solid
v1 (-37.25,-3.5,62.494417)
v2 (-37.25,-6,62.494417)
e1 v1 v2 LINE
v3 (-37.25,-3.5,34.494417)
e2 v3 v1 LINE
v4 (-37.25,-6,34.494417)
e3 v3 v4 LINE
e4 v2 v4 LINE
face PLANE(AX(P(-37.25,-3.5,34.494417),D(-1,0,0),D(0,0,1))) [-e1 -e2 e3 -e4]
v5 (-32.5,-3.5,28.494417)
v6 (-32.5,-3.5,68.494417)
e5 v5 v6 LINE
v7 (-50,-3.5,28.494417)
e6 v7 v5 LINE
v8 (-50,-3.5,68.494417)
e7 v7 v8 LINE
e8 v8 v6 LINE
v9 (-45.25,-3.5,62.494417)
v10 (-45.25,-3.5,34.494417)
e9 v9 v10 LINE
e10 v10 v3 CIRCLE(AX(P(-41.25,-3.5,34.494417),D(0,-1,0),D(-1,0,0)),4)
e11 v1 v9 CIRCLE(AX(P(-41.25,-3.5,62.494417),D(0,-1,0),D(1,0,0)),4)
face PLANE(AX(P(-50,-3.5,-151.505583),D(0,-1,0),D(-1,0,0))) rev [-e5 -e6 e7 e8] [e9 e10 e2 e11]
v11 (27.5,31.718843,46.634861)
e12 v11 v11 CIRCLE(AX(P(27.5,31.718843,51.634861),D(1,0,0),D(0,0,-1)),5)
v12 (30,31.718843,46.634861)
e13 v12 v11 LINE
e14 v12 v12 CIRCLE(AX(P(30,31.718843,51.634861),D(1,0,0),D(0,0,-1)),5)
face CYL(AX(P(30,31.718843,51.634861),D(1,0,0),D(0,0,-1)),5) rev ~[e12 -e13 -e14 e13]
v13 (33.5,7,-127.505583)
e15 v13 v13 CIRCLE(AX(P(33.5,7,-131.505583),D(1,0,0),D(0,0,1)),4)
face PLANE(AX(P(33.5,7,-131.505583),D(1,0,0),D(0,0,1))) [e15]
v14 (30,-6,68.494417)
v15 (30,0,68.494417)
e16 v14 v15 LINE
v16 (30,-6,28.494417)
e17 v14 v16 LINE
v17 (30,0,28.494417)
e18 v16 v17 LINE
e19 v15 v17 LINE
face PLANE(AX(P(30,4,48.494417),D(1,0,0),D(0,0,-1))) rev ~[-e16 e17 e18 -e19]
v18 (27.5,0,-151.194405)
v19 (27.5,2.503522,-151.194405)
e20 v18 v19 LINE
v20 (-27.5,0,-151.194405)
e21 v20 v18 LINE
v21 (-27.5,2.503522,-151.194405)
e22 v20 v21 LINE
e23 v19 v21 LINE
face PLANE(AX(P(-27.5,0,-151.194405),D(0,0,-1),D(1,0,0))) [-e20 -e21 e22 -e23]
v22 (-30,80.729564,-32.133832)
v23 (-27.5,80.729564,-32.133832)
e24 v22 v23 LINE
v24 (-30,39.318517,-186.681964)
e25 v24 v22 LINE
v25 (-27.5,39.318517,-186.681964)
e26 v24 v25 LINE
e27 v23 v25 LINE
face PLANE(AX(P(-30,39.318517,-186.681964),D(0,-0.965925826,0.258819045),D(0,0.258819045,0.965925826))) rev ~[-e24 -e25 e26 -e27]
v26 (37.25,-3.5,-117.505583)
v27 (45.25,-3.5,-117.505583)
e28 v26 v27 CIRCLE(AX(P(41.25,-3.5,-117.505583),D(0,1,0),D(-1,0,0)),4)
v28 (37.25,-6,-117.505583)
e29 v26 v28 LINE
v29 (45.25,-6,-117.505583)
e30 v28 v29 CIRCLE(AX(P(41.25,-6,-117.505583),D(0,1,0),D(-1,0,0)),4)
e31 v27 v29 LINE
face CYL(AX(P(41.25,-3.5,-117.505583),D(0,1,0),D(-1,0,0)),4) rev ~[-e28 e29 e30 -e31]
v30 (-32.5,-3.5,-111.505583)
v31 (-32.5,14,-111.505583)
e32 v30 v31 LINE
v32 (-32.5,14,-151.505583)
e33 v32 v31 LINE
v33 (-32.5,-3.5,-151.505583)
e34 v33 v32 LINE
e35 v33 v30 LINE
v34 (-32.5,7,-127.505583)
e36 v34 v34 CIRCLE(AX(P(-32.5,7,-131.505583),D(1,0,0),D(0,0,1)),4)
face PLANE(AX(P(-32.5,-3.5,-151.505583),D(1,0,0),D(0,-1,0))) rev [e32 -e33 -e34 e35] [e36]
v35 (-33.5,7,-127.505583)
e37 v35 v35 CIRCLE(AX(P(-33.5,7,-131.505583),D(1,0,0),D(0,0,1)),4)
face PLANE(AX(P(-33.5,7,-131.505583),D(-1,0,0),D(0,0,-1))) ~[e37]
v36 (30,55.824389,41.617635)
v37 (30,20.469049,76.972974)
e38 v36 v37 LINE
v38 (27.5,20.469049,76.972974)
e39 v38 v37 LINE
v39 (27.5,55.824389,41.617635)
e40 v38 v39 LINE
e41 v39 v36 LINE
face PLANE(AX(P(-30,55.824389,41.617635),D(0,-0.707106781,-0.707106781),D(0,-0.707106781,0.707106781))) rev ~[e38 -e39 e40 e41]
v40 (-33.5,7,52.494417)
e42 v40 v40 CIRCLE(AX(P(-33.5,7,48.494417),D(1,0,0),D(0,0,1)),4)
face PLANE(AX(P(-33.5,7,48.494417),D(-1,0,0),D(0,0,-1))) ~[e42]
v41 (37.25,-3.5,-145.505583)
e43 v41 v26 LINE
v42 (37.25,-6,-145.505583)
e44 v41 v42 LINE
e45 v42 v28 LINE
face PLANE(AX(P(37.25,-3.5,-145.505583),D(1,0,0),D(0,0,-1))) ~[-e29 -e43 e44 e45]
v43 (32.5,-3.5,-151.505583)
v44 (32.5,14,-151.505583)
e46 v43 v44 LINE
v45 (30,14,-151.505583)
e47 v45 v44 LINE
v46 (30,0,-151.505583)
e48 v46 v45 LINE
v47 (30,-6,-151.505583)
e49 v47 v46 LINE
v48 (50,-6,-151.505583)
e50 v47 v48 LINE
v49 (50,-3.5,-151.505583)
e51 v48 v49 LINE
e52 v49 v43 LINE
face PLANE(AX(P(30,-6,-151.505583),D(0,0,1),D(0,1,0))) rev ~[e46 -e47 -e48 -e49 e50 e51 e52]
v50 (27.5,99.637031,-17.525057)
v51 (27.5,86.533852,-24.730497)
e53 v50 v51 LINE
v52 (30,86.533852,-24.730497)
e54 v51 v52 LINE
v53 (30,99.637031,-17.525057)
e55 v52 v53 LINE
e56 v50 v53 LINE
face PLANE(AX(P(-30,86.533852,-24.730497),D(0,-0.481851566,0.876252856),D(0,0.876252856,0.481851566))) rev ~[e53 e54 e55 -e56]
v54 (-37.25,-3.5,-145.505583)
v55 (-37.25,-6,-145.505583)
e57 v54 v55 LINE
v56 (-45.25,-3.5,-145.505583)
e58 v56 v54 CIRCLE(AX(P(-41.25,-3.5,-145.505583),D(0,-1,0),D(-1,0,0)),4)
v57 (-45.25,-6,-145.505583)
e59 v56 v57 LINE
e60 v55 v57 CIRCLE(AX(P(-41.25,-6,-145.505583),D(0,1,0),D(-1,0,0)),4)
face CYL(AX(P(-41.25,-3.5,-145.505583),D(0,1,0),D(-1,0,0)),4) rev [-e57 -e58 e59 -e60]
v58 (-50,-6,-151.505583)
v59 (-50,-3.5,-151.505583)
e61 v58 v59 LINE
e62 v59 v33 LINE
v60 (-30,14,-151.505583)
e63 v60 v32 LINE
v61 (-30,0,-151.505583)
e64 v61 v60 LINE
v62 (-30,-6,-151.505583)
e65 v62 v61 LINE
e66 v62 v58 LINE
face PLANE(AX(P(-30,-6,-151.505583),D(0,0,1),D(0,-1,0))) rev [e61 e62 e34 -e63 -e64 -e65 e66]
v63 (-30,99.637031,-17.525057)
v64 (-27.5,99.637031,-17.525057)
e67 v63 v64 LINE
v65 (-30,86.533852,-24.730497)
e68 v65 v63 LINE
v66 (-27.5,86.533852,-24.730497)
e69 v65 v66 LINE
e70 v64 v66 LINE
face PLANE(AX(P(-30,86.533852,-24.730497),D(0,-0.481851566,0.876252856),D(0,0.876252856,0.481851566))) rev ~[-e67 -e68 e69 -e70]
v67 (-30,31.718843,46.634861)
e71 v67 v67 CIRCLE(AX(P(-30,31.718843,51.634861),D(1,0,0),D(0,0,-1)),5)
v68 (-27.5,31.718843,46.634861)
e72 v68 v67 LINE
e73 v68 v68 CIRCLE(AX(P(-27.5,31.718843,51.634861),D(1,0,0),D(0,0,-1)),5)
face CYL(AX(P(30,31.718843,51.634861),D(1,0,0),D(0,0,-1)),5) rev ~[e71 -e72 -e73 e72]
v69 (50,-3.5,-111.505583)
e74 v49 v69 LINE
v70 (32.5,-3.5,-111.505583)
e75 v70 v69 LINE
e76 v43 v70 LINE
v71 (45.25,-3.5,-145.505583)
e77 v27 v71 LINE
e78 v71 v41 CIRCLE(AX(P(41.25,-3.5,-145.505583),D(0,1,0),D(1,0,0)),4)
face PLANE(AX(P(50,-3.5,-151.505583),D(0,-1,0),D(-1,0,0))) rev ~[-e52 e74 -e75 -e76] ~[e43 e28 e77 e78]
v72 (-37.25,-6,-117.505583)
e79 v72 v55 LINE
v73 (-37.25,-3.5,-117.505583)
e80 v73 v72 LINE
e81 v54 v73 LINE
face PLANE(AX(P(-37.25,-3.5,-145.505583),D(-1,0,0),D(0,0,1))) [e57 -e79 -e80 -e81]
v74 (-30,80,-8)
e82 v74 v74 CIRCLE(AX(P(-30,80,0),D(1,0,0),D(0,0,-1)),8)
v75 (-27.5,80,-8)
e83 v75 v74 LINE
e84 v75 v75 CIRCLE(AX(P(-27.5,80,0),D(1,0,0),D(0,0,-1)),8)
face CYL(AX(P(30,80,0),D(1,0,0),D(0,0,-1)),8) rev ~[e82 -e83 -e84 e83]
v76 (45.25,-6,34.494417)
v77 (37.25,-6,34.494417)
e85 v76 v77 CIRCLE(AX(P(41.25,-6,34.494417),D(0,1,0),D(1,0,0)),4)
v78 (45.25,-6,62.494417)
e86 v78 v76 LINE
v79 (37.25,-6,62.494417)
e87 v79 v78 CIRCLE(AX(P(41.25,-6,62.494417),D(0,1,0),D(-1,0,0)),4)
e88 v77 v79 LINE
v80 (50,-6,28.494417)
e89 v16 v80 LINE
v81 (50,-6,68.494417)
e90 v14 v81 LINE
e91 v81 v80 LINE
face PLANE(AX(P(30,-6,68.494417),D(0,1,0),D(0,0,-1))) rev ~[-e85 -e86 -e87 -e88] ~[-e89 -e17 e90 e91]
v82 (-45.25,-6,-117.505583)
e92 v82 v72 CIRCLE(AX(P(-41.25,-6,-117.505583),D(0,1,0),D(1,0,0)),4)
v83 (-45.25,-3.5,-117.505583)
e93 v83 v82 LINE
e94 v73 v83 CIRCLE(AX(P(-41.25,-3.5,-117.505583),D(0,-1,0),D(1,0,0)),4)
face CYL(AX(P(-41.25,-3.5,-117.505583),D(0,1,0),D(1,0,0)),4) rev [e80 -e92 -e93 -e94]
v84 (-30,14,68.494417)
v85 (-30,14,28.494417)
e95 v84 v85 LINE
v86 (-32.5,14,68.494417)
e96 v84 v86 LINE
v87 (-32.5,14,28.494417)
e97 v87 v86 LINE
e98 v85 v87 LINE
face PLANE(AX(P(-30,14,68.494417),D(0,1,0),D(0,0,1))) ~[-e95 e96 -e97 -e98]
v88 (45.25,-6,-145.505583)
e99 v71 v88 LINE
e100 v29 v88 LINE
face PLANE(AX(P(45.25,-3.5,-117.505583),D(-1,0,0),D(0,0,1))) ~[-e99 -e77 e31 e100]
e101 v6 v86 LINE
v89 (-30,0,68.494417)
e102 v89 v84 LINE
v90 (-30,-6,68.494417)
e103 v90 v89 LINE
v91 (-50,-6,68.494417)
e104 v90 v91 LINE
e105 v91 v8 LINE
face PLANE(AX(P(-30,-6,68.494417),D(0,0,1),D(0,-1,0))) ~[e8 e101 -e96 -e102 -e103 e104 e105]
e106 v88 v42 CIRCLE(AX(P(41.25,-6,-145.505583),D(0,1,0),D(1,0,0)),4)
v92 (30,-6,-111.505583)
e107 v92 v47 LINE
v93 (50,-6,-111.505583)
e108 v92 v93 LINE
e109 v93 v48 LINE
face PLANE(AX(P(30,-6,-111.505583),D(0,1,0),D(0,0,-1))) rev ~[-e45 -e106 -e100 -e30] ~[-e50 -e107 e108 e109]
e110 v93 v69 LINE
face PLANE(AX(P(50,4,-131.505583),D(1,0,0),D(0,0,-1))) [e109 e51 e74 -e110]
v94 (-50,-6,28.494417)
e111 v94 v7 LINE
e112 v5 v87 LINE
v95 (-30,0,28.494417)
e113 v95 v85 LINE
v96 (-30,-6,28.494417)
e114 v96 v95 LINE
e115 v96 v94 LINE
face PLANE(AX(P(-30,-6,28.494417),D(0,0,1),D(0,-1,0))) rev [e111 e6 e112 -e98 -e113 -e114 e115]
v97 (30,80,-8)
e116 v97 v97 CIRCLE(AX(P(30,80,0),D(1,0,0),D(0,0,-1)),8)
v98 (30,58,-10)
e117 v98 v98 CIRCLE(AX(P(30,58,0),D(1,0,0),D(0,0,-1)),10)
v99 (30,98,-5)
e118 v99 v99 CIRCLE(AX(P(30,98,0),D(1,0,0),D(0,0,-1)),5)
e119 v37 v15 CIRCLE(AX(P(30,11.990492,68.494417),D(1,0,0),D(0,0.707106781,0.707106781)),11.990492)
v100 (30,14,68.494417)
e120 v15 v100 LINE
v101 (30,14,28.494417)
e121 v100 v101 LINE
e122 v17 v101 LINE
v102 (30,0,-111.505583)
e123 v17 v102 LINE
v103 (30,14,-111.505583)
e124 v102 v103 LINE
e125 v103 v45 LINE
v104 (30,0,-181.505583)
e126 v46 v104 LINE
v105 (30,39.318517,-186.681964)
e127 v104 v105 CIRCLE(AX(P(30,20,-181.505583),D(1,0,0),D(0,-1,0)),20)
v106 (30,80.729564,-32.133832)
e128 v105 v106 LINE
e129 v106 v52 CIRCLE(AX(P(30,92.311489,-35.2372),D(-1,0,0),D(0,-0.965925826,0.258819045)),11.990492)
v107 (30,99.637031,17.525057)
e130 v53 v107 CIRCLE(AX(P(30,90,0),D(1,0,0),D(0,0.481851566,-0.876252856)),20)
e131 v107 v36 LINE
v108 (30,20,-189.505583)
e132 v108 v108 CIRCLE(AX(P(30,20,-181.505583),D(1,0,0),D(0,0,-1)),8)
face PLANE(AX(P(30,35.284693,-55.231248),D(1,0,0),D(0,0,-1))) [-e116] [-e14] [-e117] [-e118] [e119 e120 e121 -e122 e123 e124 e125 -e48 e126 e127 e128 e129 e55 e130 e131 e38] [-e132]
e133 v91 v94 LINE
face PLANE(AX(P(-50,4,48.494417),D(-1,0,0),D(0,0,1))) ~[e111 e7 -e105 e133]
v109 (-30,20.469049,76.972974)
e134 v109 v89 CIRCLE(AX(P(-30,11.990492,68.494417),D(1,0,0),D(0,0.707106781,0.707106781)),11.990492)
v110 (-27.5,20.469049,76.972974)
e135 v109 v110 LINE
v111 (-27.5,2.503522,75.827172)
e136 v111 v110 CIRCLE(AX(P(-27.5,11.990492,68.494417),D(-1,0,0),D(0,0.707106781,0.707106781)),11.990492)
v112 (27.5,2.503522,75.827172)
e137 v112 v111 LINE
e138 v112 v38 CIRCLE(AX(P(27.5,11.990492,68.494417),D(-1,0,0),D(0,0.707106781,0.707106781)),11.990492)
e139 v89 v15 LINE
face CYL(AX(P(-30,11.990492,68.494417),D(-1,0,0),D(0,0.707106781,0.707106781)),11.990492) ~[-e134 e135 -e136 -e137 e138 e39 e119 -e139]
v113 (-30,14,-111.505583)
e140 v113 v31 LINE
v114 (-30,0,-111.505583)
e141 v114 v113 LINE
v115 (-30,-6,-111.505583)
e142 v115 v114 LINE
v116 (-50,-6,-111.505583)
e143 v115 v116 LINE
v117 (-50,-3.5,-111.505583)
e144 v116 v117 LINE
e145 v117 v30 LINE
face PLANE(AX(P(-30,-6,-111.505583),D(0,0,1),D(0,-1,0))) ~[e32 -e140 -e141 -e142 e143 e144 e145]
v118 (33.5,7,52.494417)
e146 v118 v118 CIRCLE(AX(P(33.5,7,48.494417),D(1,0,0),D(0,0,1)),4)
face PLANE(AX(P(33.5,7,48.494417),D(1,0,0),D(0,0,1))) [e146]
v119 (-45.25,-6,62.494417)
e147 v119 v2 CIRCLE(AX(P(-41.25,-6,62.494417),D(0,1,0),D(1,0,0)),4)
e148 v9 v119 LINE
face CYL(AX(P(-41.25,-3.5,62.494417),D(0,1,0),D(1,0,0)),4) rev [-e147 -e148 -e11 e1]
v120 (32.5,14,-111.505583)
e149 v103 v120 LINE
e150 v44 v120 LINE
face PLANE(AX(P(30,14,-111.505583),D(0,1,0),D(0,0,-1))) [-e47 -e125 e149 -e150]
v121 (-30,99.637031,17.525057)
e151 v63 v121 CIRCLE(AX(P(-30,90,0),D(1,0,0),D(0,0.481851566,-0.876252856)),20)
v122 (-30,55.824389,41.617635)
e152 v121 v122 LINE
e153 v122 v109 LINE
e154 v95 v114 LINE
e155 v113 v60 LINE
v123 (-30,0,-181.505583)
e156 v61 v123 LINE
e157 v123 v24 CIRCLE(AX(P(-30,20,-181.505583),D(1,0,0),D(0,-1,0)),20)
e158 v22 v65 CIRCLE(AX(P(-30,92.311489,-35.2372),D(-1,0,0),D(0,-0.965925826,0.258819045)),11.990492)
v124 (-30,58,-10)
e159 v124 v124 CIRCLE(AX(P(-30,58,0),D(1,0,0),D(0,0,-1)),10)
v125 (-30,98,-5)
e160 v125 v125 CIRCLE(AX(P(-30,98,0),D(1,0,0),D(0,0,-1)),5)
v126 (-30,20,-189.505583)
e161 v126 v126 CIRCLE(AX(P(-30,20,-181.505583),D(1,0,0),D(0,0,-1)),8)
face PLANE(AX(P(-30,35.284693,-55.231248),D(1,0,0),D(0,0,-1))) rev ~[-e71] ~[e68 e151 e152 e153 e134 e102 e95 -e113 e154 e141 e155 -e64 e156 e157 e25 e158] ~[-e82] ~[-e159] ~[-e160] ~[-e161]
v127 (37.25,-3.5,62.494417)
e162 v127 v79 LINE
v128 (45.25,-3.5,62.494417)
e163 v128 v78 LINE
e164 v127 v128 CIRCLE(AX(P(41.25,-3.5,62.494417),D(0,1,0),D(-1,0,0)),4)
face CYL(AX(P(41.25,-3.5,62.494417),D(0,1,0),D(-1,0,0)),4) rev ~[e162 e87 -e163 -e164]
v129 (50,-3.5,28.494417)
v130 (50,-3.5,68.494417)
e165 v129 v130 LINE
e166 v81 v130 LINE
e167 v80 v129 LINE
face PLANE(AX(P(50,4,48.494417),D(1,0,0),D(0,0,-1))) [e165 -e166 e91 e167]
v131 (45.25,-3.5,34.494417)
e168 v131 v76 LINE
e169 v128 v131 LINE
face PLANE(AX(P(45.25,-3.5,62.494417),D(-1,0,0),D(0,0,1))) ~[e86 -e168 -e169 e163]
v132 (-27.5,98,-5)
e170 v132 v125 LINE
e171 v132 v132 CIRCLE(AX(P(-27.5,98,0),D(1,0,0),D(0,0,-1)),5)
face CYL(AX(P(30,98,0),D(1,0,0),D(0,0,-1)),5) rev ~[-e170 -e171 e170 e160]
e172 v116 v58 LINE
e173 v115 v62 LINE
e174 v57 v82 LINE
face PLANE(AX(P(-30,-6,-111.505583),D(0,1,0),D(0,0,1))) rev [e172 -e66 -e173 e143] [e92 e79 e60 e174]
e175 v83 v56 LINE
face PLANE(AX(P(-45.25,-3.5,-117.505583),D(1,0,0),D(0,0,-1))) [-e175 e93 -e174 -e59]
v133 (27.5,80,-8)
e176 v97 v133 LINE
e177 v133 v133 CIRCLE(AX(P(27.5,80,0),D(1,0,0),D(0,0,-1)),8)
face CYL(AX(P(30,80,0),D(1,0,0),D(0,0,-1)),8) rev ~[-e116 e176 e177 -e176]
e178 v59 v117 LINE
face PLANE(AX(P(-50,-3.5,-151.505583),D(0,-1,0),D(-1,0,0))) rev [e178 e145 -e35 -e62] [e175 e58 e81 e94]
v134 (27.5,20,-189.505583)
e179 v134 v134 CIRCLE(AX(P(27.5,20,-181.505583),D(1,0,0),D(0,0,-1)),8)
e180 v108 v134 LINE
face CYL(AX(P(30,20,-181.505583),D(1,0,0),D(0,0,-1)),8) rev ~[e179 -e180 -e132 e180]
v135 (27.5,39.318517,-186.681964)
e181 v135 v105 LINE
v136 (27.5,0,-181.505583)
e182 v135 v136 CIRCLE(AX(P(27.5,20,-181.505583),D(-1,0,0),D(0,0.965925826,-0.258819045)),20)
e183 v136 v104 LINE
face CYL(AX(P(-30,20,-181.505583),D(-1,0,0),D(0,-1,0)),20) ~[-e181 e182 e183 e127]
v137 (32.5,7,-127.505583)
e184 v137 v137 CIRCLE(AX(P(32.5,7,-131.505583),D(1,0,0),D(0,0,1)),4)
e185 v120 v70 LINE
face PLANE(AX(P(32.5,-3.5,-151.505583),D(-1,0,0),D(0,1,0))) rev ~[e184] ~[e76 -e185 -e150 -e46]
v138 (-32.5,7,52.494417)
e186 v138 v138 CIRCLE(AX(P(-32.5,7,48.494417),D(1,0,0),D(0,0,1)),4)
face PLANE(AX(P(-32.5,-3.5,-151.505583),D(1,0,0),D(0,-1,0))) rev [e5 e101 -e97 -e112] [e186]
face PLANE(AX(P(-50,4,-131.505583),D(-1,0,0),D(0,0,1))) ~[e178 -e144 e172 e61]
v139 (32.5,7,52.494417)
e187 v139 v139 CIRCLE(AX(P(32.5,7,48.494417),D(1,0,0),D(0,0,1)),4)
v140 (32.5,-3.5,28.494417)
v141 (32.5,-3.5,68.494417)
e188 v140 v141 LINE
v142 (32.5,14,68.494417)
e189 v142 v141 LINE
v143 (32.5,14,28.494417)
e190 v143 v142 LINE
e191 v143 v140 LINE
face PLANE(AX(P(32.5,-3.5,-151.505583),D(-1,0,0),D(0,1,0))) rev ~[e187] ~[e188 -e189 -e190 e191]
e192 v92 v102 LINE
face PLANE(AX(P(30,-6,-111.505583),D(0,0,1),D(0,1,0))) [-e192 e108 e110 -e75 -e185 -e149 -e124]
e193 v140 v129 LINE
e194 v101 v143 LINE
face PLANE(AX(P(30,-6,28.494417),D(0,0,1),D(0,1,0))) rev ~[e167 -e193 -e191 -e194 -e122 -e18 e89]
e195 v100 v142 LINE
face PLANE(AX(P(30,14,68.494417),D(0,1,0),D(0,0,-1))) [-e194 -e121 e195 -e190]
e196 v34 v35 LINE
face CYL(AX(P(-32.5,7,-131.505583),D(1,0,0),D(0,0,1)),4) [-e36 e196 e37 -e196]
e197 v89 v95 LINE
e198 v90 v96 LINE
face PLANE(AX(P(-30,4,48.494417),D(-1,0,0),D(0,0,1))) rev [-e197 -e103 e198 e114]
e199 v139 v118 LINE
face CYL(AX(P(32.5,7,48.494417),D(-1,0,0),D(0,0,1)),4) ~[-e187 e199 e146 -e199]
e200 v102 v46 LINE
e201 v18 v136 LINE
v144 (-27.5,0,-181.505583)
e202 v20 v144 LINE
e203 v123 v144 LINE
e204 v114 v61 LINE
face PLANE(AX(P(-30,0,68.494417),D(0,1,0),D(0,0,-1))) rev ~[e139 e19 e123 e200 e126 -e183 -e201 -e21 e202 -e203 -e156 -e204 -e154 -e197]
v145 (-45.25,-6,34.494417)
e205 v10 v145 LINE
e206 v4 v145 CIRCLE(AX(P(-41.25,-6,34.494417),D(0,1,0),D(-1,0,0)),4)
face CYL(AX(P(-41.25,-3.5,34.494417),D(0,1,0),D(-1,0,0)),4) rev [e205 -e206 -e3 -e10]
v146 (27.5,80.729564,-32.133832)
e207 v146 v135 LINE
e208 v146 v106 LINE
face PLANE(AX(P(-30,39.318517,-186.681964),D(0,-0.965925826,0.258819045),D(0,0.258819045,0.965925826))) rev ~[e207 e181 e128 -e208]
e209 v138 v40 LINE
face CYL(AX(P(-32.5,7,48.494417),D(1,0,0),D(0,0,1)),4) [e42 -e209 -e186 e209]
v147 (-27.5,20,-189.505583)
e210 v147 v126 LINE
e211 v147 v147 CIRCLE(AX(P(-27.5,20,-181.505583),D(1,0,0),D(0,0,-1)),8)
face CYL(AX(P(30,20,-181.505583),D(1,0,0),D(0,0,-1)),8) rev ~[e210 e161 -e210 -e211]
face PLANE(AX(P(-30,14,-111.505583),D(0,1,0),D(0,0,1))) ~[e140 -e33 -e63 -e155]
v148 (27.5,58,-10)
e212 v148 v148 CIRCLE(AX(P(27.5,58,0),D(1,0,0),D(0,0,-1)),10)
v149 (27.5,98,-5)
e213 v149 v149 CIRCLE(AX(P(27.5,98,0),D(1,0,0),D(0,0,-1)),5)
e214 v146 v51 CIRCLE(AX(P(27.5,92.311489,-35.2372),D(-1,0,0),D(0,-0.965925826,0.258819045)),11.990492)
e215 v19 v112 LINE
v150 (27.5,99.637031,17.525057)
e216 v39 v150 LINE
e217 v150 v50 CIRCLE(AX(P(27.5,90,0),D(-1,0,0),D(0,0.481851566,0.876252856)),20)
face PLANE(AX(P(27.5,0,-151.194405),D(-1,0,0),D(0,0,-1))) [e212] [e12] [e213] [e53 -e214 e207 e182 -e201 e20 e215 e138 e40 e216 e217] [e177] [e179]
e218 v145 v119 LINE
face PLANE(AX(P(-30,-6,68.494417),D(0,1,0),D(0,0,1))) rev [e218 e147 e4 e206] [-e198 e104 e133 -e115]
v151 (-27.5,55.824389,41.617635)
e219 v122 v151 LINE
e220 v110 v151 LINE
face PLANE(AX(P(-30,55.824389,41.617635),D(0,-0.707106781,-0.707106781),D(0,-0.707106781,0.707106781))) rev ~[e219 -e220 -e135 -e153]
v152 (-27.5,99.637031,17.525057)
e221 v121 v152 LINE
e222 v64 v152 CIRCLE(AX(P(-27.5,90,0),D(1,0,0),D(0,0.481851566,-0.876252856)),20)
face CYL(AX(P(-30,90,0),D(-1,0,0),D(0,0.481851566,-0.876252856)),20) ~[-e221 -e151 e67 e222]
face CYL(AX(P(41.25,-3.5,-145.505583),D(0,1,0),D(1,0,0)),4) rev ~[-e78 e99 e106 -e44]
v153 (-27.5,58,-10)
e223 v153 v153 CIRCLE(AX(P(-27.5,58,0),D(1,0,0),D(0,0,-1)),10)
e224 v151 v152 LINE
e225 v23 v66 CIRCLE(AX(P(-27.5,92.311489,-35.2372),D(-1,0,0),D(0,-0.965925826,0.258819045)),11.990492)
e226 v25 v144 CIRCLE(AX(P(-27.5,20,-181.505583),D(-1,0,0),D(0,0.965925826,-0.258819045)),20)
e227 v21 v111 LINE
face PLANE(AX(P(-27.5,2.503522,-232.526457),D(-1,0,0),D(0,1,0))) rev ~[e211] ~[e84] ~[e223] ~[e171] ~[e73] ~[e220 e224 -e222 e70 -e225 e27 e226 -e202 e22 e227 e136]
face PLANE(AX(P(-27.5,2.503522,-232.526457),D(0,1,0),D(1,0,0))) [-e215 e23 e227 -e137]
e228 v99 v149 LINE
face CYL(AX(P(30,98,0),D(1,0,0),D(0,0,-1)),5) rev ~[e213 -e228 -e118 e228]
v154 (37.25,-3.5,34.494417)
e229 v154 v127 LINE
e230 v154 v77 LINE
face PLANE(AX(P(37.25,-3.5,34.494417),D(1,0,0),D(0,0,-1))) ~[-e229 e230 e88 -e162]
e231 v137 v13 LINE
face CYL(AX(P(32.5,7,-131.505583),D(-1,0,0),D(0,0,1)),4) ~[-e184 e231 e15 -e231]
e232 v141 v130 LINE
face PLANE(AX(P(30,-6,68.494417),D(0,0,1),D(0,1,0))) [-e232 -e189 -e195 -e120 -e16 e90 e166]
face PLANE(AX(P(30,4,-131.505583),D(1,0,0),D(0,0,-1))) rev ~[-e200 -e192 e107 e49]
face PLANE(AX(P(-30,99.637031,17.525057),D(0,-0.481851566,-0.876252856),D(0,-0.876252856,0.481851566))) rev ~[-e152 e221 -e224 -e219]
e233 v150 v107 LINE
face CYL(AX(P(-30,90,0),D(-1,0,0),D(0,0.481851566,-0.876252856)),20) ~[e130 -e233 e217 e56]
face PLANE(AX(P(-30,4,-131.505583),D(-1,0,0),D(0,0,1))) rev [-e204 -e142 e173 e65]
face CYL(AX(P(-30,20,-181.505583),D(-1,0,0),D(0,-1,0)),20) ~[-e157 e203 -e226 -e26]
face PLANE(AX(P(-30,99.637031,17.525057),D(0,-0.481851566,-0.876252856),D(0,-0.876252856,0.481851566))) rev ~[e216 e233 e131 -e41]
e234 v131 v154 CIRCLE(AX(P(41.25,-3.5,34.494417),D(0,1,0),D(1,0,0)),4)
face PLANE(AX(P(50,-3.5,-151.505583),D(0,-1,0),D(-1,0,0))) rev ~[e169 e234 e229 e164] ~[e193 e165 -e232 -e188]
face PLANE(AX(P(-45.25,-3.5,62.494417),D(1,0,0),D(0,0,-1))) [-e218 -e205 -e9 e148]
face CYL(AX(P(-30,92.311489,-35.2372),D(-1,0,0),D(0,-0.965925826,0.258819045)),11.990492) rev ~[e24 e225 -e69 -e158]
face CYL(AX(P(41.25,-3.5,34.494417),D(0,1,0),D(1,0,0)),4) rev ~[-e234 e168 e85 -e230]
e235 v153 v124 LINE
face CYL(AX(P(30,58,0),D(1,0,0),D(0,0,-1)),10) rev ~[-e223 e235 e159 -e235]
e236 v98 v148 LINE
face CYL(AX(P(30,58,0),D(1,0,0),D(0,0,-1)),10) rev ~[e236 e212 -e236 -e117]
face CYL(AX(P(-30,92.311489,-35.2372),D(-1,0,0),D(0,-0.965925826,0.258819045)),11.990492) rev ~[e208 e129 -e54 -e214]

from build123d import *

# Parameters (mm, degrees)
DODANIE_WYCI_GNI_CIE1_DEPTH      = 30
DODANIE_WYCI_GNI_CIE1_DEPTH_BACK = 30
WYTNIJ_WYCI_GNI_CIE1_DEPTH       = 232.526456676
WYTNIJ_WYCI_GNI_CIE1_DEPTH_BACK  = 232.526456676
SZKIC2_W                         = 55
SZKIC2_H                         = 107.496477766
SZKIC3_W                         = 55
SZKIC3_H                         = 40
WYTNIJ_WYCI_GNI_CIE3_DEPTH       = 232.526456676
SZKIC4_W                         = 40
SZKIC4_H                         = 20
DODANIE_WYCI_GNI_CIE2_DEPTH      = 20
SZKIC5_W                         = 17.5
SZKIC5_H                         = 17.5
WYTNIJ_WYCI_GNI_CIE4_DEPTH       = 262.571382555
SZKIC6_R                         = 4
DODANIE_WYCI_GNI_CIE3_DEPTH      = 1
WYTNIJ_WYCI_GNI_CIE5_DEPTH       = 237.615194231
SZKIC8_R                         = 5
SZKIC8_R_2                       = 8
SZKIC8_R_3                       = 10
WYTNIJ_WYCI_GNI_CIE6_DEPTH       = 244.114171


with BuildPart() as part:
    # Szkic1 → Dodanie-wyciągnięcie1 (new, two sides: drawn at the far end of the back side and taken through both)
    with BuildSketch(Plane(origin=(0, 0, 0), x_dir=(0, 0, -1), z_dir=(1, 0, 0)).offset(-DODANIE_WYCI_GNI_CIE1_DEPTH_BACK)):
        with BuildLine():
            Line((0, 0), (181.505583399, 0))
            ThreePointArc((181.505583399, 0), (201.334480627, 17.389476156), (186.681964301, 39.318516526))
            Line((186.681964301, 39.318516526), (32.133832095, 80.729563742))
            ThreePointArc((32.133832095, 80.729563742), (27.839163279, 82.875338226), (24.730497196, 86.533852072))
            Line((24.730497196, 86.533852072), (17.525057128, 99.637031321))
            ThreePointArc((17.525057128, 99.637031321), (0, 110), (-17.525057128, 99.637031321))
            Line((-17.525057128, 99.637031321), (-41.617635429, 55.824388502))
            Line((-41.617635429, 55.824388502), (-76.972974488, 20.469049442))
            ThreePointArc((-76.972974488, 20.469049442), (-79.572186332, 7.401929091), (-68.494416601, 0))
            Line((-68.494416601, 0), (0, 0))
        make_face()
    extrude(amount=DODANIE_WYCI_GNI_CIE1_DEPTH + DODANIE_WYCI_GNI_CIE1_DEPTH_BACK)

    # Szkic2 → Wytnij-wyciągnięcie1 (cut, two sides: drawn at the far end of the back side and taken through both)
    with BuildSketch(Plane.XY.offset(-WYTNIJ_WYCI_GNI_CIE1_DEPTH_BACK)):
        with Locations((0, 56.251761117)):
            Rectangle(SZKIC2_W, SZKIC2_H)
    extrude(amount=WYTNIJ_WYCI_GNI_CIE1_DEPTH + WYTNIJ_WYCI_GNI_CIE1_DEPTH_BACK, mode=Mode.SUBTRACT)

    # Szkic3 → Wytnij-wyciągnięcie3 (cut, through all)
    with BuildSketch(Plane(origin=(0, 0, 0), x_dir=(1, 0, 0), z_dir=(0, 1, 0))):
        with Locations((0, 171.194405091)):
            Rectangle(SZKIC3_W, SZKIC3_H)
    extrude(amount=WYTNIJ_WYCI_GNI_CIE3_DEPTH, mode=Mode.SUBTRACT)

    # Szkic4 → Dodanie-wyciągnięcie2 (add)
    with BuildSketch(Plane(origin=(30, 0, 0), x_dir=(0, 0, -1), z_dir=(1, 0, 0))):
        with Locations((-48.494416601, 4)):
            Rectangle(SZKIC4_W, SZKIC4_H)
        with Locations((131.505583399, 4)):
            Rectangle(SZKIC4_W, SZKIC4_H)
    dodanie_wyci_gni_cie2 = extrude(amount=DODANIE_WYCI_GNI_CIE2_DEPTH)

    # Szkic5 → Wytnij-wyciągnięcie4 (cut, through all)
    with BuildSketch(Plane(origin=(0, 0, -151.505583399), x_dir=(-1, 0, 0), z_dir=(0, 0, -1))):
        with Locations((-41.25, 5.25)):
            Rectangle(SZKIC5_W, SZKIC5_H)
    wytnij_wyci_gni_cie4 = extrude(amount=-WYTNIJ_WYCI_GNI_CIE4_DEPTH, mode=Mode.SUBTRACT)

    # Szkic6 → Dodanie-wyciągnięcie3 (add)
    with BuildSketch(Plane(origin=(32.5, 0, 0), x_dir=(0, 0, -1), z_dir=(1, 0, 0))):
        with Locations((-48.494416601, 7)):
            Circle(SZKIC6_R)
        with Locations((131.505583399, 7)):
            Circle(SZKIC6_R)
    dodanie_wyci_gni_cie3 = extrude(amount=DODANIE_WYCI_GNI_CIE3_DEPTH)

    # Lustro2: Dodanie-wyciągnięcie2, Wytnij-wyciągnięcie4, Dodanie-wyciągnięcie3 across plane
    add(dodanie_wyci_gni_cie2.mirror(Plane(origin=(0, 0, 0), x_dir=(0, 0, 1), z_dir=(1, 0, 0))))
    add(wytnij_wyci_gni_cie4.mirror(Plane(origin=(0, 0, 0), x_dir=(0, 0, 1), z_dir=(1, 0, 0))), mode=Mode.SUBTRACT)
    add(dodanie_wyci_gni_cie3.mirror(Plane(origin=(0, 0, 0), x_dir=(0, 0, 1), z_dir=(1, 0, 0))))

    # Szkic7 → Wytnij-wyciągnięcie5 (cut, through all)
    with BuildSketch(Plane(origin=(0, -3.5, 0), x_dir=(1, 0, 0), z_dir=(0, 1, 0))):
        with BuildLine():
            Line((-37.25, 145.505583399), (-37.25, 117.505583399))
            ThreePointArc((-37.25, 117.505583399), (-41.25, 113.505583399), (-45.25, 117.505583399))
            Line((-45.25, 117.505583399), (-45.25, 145.505583399))
            ThreePointArc((-45.25, 145.505583399), (-41.25, 149.505583399), (-37.25, 145.505583399))
        make_face()
        with BuildLine():
            Line((-37.25, -34.494416601), (-37.25, -62.494416601))
            ThreePointArc((-37.25, -62.494416601), (-41.25, -66.494416601), (-45.25, -62.494416601))
            Line((-45.25, -62.494416601), (-45.25, -34.494416601))
            ThreePointArc((-45.25, -34.494416601), (-41.25, -30.494416601), (-37.25, -34.494416601))
        make_face()
    wytnij_wyci_gni_cie5 = extrude(amount=-WYTNIJ_WYCI_GNI_CIE5_DEPTH, mode=Mode.SUBTRACT)

    # Lustro3: Wytnij-wyciągnięcie5 across plane
    add(wytnij_wyci_gni_cie5.mirror(Plane(origin=(0, 0, 0), x_dir=(0, 0, 1), z_dir=(1, 0, 0))), mode=Mode.SUBTRACT)

    # Szkic8 → Wytnij-wyciągnięcie6 (cut, through all)
    with BuildSketch(Plane(origin=(30, 0, 0), x_dir=(0, 0, -1), z_dir=(1, 0, 0))):
        with Locations((0, 98)):
            Circle(SZKIC8_R)
        with Locations((-51.634860528, 31.718842875)):
            Circle(SZKIC8_R)
        with Locations((0, 80)):
            Circle(SZKIC8_R_2)
        with Locations((0, 58)):
            Circle(SZKIC8_R_3)
        with Locations((181.505583399, 20)):
            Circle(SZKIC8_R_2)
    extrude(amount=-WYTNIJ_WYCI_GNI_CIE6_DEPTH, mode=Mode.SUBTRACT)


solid = part.part
